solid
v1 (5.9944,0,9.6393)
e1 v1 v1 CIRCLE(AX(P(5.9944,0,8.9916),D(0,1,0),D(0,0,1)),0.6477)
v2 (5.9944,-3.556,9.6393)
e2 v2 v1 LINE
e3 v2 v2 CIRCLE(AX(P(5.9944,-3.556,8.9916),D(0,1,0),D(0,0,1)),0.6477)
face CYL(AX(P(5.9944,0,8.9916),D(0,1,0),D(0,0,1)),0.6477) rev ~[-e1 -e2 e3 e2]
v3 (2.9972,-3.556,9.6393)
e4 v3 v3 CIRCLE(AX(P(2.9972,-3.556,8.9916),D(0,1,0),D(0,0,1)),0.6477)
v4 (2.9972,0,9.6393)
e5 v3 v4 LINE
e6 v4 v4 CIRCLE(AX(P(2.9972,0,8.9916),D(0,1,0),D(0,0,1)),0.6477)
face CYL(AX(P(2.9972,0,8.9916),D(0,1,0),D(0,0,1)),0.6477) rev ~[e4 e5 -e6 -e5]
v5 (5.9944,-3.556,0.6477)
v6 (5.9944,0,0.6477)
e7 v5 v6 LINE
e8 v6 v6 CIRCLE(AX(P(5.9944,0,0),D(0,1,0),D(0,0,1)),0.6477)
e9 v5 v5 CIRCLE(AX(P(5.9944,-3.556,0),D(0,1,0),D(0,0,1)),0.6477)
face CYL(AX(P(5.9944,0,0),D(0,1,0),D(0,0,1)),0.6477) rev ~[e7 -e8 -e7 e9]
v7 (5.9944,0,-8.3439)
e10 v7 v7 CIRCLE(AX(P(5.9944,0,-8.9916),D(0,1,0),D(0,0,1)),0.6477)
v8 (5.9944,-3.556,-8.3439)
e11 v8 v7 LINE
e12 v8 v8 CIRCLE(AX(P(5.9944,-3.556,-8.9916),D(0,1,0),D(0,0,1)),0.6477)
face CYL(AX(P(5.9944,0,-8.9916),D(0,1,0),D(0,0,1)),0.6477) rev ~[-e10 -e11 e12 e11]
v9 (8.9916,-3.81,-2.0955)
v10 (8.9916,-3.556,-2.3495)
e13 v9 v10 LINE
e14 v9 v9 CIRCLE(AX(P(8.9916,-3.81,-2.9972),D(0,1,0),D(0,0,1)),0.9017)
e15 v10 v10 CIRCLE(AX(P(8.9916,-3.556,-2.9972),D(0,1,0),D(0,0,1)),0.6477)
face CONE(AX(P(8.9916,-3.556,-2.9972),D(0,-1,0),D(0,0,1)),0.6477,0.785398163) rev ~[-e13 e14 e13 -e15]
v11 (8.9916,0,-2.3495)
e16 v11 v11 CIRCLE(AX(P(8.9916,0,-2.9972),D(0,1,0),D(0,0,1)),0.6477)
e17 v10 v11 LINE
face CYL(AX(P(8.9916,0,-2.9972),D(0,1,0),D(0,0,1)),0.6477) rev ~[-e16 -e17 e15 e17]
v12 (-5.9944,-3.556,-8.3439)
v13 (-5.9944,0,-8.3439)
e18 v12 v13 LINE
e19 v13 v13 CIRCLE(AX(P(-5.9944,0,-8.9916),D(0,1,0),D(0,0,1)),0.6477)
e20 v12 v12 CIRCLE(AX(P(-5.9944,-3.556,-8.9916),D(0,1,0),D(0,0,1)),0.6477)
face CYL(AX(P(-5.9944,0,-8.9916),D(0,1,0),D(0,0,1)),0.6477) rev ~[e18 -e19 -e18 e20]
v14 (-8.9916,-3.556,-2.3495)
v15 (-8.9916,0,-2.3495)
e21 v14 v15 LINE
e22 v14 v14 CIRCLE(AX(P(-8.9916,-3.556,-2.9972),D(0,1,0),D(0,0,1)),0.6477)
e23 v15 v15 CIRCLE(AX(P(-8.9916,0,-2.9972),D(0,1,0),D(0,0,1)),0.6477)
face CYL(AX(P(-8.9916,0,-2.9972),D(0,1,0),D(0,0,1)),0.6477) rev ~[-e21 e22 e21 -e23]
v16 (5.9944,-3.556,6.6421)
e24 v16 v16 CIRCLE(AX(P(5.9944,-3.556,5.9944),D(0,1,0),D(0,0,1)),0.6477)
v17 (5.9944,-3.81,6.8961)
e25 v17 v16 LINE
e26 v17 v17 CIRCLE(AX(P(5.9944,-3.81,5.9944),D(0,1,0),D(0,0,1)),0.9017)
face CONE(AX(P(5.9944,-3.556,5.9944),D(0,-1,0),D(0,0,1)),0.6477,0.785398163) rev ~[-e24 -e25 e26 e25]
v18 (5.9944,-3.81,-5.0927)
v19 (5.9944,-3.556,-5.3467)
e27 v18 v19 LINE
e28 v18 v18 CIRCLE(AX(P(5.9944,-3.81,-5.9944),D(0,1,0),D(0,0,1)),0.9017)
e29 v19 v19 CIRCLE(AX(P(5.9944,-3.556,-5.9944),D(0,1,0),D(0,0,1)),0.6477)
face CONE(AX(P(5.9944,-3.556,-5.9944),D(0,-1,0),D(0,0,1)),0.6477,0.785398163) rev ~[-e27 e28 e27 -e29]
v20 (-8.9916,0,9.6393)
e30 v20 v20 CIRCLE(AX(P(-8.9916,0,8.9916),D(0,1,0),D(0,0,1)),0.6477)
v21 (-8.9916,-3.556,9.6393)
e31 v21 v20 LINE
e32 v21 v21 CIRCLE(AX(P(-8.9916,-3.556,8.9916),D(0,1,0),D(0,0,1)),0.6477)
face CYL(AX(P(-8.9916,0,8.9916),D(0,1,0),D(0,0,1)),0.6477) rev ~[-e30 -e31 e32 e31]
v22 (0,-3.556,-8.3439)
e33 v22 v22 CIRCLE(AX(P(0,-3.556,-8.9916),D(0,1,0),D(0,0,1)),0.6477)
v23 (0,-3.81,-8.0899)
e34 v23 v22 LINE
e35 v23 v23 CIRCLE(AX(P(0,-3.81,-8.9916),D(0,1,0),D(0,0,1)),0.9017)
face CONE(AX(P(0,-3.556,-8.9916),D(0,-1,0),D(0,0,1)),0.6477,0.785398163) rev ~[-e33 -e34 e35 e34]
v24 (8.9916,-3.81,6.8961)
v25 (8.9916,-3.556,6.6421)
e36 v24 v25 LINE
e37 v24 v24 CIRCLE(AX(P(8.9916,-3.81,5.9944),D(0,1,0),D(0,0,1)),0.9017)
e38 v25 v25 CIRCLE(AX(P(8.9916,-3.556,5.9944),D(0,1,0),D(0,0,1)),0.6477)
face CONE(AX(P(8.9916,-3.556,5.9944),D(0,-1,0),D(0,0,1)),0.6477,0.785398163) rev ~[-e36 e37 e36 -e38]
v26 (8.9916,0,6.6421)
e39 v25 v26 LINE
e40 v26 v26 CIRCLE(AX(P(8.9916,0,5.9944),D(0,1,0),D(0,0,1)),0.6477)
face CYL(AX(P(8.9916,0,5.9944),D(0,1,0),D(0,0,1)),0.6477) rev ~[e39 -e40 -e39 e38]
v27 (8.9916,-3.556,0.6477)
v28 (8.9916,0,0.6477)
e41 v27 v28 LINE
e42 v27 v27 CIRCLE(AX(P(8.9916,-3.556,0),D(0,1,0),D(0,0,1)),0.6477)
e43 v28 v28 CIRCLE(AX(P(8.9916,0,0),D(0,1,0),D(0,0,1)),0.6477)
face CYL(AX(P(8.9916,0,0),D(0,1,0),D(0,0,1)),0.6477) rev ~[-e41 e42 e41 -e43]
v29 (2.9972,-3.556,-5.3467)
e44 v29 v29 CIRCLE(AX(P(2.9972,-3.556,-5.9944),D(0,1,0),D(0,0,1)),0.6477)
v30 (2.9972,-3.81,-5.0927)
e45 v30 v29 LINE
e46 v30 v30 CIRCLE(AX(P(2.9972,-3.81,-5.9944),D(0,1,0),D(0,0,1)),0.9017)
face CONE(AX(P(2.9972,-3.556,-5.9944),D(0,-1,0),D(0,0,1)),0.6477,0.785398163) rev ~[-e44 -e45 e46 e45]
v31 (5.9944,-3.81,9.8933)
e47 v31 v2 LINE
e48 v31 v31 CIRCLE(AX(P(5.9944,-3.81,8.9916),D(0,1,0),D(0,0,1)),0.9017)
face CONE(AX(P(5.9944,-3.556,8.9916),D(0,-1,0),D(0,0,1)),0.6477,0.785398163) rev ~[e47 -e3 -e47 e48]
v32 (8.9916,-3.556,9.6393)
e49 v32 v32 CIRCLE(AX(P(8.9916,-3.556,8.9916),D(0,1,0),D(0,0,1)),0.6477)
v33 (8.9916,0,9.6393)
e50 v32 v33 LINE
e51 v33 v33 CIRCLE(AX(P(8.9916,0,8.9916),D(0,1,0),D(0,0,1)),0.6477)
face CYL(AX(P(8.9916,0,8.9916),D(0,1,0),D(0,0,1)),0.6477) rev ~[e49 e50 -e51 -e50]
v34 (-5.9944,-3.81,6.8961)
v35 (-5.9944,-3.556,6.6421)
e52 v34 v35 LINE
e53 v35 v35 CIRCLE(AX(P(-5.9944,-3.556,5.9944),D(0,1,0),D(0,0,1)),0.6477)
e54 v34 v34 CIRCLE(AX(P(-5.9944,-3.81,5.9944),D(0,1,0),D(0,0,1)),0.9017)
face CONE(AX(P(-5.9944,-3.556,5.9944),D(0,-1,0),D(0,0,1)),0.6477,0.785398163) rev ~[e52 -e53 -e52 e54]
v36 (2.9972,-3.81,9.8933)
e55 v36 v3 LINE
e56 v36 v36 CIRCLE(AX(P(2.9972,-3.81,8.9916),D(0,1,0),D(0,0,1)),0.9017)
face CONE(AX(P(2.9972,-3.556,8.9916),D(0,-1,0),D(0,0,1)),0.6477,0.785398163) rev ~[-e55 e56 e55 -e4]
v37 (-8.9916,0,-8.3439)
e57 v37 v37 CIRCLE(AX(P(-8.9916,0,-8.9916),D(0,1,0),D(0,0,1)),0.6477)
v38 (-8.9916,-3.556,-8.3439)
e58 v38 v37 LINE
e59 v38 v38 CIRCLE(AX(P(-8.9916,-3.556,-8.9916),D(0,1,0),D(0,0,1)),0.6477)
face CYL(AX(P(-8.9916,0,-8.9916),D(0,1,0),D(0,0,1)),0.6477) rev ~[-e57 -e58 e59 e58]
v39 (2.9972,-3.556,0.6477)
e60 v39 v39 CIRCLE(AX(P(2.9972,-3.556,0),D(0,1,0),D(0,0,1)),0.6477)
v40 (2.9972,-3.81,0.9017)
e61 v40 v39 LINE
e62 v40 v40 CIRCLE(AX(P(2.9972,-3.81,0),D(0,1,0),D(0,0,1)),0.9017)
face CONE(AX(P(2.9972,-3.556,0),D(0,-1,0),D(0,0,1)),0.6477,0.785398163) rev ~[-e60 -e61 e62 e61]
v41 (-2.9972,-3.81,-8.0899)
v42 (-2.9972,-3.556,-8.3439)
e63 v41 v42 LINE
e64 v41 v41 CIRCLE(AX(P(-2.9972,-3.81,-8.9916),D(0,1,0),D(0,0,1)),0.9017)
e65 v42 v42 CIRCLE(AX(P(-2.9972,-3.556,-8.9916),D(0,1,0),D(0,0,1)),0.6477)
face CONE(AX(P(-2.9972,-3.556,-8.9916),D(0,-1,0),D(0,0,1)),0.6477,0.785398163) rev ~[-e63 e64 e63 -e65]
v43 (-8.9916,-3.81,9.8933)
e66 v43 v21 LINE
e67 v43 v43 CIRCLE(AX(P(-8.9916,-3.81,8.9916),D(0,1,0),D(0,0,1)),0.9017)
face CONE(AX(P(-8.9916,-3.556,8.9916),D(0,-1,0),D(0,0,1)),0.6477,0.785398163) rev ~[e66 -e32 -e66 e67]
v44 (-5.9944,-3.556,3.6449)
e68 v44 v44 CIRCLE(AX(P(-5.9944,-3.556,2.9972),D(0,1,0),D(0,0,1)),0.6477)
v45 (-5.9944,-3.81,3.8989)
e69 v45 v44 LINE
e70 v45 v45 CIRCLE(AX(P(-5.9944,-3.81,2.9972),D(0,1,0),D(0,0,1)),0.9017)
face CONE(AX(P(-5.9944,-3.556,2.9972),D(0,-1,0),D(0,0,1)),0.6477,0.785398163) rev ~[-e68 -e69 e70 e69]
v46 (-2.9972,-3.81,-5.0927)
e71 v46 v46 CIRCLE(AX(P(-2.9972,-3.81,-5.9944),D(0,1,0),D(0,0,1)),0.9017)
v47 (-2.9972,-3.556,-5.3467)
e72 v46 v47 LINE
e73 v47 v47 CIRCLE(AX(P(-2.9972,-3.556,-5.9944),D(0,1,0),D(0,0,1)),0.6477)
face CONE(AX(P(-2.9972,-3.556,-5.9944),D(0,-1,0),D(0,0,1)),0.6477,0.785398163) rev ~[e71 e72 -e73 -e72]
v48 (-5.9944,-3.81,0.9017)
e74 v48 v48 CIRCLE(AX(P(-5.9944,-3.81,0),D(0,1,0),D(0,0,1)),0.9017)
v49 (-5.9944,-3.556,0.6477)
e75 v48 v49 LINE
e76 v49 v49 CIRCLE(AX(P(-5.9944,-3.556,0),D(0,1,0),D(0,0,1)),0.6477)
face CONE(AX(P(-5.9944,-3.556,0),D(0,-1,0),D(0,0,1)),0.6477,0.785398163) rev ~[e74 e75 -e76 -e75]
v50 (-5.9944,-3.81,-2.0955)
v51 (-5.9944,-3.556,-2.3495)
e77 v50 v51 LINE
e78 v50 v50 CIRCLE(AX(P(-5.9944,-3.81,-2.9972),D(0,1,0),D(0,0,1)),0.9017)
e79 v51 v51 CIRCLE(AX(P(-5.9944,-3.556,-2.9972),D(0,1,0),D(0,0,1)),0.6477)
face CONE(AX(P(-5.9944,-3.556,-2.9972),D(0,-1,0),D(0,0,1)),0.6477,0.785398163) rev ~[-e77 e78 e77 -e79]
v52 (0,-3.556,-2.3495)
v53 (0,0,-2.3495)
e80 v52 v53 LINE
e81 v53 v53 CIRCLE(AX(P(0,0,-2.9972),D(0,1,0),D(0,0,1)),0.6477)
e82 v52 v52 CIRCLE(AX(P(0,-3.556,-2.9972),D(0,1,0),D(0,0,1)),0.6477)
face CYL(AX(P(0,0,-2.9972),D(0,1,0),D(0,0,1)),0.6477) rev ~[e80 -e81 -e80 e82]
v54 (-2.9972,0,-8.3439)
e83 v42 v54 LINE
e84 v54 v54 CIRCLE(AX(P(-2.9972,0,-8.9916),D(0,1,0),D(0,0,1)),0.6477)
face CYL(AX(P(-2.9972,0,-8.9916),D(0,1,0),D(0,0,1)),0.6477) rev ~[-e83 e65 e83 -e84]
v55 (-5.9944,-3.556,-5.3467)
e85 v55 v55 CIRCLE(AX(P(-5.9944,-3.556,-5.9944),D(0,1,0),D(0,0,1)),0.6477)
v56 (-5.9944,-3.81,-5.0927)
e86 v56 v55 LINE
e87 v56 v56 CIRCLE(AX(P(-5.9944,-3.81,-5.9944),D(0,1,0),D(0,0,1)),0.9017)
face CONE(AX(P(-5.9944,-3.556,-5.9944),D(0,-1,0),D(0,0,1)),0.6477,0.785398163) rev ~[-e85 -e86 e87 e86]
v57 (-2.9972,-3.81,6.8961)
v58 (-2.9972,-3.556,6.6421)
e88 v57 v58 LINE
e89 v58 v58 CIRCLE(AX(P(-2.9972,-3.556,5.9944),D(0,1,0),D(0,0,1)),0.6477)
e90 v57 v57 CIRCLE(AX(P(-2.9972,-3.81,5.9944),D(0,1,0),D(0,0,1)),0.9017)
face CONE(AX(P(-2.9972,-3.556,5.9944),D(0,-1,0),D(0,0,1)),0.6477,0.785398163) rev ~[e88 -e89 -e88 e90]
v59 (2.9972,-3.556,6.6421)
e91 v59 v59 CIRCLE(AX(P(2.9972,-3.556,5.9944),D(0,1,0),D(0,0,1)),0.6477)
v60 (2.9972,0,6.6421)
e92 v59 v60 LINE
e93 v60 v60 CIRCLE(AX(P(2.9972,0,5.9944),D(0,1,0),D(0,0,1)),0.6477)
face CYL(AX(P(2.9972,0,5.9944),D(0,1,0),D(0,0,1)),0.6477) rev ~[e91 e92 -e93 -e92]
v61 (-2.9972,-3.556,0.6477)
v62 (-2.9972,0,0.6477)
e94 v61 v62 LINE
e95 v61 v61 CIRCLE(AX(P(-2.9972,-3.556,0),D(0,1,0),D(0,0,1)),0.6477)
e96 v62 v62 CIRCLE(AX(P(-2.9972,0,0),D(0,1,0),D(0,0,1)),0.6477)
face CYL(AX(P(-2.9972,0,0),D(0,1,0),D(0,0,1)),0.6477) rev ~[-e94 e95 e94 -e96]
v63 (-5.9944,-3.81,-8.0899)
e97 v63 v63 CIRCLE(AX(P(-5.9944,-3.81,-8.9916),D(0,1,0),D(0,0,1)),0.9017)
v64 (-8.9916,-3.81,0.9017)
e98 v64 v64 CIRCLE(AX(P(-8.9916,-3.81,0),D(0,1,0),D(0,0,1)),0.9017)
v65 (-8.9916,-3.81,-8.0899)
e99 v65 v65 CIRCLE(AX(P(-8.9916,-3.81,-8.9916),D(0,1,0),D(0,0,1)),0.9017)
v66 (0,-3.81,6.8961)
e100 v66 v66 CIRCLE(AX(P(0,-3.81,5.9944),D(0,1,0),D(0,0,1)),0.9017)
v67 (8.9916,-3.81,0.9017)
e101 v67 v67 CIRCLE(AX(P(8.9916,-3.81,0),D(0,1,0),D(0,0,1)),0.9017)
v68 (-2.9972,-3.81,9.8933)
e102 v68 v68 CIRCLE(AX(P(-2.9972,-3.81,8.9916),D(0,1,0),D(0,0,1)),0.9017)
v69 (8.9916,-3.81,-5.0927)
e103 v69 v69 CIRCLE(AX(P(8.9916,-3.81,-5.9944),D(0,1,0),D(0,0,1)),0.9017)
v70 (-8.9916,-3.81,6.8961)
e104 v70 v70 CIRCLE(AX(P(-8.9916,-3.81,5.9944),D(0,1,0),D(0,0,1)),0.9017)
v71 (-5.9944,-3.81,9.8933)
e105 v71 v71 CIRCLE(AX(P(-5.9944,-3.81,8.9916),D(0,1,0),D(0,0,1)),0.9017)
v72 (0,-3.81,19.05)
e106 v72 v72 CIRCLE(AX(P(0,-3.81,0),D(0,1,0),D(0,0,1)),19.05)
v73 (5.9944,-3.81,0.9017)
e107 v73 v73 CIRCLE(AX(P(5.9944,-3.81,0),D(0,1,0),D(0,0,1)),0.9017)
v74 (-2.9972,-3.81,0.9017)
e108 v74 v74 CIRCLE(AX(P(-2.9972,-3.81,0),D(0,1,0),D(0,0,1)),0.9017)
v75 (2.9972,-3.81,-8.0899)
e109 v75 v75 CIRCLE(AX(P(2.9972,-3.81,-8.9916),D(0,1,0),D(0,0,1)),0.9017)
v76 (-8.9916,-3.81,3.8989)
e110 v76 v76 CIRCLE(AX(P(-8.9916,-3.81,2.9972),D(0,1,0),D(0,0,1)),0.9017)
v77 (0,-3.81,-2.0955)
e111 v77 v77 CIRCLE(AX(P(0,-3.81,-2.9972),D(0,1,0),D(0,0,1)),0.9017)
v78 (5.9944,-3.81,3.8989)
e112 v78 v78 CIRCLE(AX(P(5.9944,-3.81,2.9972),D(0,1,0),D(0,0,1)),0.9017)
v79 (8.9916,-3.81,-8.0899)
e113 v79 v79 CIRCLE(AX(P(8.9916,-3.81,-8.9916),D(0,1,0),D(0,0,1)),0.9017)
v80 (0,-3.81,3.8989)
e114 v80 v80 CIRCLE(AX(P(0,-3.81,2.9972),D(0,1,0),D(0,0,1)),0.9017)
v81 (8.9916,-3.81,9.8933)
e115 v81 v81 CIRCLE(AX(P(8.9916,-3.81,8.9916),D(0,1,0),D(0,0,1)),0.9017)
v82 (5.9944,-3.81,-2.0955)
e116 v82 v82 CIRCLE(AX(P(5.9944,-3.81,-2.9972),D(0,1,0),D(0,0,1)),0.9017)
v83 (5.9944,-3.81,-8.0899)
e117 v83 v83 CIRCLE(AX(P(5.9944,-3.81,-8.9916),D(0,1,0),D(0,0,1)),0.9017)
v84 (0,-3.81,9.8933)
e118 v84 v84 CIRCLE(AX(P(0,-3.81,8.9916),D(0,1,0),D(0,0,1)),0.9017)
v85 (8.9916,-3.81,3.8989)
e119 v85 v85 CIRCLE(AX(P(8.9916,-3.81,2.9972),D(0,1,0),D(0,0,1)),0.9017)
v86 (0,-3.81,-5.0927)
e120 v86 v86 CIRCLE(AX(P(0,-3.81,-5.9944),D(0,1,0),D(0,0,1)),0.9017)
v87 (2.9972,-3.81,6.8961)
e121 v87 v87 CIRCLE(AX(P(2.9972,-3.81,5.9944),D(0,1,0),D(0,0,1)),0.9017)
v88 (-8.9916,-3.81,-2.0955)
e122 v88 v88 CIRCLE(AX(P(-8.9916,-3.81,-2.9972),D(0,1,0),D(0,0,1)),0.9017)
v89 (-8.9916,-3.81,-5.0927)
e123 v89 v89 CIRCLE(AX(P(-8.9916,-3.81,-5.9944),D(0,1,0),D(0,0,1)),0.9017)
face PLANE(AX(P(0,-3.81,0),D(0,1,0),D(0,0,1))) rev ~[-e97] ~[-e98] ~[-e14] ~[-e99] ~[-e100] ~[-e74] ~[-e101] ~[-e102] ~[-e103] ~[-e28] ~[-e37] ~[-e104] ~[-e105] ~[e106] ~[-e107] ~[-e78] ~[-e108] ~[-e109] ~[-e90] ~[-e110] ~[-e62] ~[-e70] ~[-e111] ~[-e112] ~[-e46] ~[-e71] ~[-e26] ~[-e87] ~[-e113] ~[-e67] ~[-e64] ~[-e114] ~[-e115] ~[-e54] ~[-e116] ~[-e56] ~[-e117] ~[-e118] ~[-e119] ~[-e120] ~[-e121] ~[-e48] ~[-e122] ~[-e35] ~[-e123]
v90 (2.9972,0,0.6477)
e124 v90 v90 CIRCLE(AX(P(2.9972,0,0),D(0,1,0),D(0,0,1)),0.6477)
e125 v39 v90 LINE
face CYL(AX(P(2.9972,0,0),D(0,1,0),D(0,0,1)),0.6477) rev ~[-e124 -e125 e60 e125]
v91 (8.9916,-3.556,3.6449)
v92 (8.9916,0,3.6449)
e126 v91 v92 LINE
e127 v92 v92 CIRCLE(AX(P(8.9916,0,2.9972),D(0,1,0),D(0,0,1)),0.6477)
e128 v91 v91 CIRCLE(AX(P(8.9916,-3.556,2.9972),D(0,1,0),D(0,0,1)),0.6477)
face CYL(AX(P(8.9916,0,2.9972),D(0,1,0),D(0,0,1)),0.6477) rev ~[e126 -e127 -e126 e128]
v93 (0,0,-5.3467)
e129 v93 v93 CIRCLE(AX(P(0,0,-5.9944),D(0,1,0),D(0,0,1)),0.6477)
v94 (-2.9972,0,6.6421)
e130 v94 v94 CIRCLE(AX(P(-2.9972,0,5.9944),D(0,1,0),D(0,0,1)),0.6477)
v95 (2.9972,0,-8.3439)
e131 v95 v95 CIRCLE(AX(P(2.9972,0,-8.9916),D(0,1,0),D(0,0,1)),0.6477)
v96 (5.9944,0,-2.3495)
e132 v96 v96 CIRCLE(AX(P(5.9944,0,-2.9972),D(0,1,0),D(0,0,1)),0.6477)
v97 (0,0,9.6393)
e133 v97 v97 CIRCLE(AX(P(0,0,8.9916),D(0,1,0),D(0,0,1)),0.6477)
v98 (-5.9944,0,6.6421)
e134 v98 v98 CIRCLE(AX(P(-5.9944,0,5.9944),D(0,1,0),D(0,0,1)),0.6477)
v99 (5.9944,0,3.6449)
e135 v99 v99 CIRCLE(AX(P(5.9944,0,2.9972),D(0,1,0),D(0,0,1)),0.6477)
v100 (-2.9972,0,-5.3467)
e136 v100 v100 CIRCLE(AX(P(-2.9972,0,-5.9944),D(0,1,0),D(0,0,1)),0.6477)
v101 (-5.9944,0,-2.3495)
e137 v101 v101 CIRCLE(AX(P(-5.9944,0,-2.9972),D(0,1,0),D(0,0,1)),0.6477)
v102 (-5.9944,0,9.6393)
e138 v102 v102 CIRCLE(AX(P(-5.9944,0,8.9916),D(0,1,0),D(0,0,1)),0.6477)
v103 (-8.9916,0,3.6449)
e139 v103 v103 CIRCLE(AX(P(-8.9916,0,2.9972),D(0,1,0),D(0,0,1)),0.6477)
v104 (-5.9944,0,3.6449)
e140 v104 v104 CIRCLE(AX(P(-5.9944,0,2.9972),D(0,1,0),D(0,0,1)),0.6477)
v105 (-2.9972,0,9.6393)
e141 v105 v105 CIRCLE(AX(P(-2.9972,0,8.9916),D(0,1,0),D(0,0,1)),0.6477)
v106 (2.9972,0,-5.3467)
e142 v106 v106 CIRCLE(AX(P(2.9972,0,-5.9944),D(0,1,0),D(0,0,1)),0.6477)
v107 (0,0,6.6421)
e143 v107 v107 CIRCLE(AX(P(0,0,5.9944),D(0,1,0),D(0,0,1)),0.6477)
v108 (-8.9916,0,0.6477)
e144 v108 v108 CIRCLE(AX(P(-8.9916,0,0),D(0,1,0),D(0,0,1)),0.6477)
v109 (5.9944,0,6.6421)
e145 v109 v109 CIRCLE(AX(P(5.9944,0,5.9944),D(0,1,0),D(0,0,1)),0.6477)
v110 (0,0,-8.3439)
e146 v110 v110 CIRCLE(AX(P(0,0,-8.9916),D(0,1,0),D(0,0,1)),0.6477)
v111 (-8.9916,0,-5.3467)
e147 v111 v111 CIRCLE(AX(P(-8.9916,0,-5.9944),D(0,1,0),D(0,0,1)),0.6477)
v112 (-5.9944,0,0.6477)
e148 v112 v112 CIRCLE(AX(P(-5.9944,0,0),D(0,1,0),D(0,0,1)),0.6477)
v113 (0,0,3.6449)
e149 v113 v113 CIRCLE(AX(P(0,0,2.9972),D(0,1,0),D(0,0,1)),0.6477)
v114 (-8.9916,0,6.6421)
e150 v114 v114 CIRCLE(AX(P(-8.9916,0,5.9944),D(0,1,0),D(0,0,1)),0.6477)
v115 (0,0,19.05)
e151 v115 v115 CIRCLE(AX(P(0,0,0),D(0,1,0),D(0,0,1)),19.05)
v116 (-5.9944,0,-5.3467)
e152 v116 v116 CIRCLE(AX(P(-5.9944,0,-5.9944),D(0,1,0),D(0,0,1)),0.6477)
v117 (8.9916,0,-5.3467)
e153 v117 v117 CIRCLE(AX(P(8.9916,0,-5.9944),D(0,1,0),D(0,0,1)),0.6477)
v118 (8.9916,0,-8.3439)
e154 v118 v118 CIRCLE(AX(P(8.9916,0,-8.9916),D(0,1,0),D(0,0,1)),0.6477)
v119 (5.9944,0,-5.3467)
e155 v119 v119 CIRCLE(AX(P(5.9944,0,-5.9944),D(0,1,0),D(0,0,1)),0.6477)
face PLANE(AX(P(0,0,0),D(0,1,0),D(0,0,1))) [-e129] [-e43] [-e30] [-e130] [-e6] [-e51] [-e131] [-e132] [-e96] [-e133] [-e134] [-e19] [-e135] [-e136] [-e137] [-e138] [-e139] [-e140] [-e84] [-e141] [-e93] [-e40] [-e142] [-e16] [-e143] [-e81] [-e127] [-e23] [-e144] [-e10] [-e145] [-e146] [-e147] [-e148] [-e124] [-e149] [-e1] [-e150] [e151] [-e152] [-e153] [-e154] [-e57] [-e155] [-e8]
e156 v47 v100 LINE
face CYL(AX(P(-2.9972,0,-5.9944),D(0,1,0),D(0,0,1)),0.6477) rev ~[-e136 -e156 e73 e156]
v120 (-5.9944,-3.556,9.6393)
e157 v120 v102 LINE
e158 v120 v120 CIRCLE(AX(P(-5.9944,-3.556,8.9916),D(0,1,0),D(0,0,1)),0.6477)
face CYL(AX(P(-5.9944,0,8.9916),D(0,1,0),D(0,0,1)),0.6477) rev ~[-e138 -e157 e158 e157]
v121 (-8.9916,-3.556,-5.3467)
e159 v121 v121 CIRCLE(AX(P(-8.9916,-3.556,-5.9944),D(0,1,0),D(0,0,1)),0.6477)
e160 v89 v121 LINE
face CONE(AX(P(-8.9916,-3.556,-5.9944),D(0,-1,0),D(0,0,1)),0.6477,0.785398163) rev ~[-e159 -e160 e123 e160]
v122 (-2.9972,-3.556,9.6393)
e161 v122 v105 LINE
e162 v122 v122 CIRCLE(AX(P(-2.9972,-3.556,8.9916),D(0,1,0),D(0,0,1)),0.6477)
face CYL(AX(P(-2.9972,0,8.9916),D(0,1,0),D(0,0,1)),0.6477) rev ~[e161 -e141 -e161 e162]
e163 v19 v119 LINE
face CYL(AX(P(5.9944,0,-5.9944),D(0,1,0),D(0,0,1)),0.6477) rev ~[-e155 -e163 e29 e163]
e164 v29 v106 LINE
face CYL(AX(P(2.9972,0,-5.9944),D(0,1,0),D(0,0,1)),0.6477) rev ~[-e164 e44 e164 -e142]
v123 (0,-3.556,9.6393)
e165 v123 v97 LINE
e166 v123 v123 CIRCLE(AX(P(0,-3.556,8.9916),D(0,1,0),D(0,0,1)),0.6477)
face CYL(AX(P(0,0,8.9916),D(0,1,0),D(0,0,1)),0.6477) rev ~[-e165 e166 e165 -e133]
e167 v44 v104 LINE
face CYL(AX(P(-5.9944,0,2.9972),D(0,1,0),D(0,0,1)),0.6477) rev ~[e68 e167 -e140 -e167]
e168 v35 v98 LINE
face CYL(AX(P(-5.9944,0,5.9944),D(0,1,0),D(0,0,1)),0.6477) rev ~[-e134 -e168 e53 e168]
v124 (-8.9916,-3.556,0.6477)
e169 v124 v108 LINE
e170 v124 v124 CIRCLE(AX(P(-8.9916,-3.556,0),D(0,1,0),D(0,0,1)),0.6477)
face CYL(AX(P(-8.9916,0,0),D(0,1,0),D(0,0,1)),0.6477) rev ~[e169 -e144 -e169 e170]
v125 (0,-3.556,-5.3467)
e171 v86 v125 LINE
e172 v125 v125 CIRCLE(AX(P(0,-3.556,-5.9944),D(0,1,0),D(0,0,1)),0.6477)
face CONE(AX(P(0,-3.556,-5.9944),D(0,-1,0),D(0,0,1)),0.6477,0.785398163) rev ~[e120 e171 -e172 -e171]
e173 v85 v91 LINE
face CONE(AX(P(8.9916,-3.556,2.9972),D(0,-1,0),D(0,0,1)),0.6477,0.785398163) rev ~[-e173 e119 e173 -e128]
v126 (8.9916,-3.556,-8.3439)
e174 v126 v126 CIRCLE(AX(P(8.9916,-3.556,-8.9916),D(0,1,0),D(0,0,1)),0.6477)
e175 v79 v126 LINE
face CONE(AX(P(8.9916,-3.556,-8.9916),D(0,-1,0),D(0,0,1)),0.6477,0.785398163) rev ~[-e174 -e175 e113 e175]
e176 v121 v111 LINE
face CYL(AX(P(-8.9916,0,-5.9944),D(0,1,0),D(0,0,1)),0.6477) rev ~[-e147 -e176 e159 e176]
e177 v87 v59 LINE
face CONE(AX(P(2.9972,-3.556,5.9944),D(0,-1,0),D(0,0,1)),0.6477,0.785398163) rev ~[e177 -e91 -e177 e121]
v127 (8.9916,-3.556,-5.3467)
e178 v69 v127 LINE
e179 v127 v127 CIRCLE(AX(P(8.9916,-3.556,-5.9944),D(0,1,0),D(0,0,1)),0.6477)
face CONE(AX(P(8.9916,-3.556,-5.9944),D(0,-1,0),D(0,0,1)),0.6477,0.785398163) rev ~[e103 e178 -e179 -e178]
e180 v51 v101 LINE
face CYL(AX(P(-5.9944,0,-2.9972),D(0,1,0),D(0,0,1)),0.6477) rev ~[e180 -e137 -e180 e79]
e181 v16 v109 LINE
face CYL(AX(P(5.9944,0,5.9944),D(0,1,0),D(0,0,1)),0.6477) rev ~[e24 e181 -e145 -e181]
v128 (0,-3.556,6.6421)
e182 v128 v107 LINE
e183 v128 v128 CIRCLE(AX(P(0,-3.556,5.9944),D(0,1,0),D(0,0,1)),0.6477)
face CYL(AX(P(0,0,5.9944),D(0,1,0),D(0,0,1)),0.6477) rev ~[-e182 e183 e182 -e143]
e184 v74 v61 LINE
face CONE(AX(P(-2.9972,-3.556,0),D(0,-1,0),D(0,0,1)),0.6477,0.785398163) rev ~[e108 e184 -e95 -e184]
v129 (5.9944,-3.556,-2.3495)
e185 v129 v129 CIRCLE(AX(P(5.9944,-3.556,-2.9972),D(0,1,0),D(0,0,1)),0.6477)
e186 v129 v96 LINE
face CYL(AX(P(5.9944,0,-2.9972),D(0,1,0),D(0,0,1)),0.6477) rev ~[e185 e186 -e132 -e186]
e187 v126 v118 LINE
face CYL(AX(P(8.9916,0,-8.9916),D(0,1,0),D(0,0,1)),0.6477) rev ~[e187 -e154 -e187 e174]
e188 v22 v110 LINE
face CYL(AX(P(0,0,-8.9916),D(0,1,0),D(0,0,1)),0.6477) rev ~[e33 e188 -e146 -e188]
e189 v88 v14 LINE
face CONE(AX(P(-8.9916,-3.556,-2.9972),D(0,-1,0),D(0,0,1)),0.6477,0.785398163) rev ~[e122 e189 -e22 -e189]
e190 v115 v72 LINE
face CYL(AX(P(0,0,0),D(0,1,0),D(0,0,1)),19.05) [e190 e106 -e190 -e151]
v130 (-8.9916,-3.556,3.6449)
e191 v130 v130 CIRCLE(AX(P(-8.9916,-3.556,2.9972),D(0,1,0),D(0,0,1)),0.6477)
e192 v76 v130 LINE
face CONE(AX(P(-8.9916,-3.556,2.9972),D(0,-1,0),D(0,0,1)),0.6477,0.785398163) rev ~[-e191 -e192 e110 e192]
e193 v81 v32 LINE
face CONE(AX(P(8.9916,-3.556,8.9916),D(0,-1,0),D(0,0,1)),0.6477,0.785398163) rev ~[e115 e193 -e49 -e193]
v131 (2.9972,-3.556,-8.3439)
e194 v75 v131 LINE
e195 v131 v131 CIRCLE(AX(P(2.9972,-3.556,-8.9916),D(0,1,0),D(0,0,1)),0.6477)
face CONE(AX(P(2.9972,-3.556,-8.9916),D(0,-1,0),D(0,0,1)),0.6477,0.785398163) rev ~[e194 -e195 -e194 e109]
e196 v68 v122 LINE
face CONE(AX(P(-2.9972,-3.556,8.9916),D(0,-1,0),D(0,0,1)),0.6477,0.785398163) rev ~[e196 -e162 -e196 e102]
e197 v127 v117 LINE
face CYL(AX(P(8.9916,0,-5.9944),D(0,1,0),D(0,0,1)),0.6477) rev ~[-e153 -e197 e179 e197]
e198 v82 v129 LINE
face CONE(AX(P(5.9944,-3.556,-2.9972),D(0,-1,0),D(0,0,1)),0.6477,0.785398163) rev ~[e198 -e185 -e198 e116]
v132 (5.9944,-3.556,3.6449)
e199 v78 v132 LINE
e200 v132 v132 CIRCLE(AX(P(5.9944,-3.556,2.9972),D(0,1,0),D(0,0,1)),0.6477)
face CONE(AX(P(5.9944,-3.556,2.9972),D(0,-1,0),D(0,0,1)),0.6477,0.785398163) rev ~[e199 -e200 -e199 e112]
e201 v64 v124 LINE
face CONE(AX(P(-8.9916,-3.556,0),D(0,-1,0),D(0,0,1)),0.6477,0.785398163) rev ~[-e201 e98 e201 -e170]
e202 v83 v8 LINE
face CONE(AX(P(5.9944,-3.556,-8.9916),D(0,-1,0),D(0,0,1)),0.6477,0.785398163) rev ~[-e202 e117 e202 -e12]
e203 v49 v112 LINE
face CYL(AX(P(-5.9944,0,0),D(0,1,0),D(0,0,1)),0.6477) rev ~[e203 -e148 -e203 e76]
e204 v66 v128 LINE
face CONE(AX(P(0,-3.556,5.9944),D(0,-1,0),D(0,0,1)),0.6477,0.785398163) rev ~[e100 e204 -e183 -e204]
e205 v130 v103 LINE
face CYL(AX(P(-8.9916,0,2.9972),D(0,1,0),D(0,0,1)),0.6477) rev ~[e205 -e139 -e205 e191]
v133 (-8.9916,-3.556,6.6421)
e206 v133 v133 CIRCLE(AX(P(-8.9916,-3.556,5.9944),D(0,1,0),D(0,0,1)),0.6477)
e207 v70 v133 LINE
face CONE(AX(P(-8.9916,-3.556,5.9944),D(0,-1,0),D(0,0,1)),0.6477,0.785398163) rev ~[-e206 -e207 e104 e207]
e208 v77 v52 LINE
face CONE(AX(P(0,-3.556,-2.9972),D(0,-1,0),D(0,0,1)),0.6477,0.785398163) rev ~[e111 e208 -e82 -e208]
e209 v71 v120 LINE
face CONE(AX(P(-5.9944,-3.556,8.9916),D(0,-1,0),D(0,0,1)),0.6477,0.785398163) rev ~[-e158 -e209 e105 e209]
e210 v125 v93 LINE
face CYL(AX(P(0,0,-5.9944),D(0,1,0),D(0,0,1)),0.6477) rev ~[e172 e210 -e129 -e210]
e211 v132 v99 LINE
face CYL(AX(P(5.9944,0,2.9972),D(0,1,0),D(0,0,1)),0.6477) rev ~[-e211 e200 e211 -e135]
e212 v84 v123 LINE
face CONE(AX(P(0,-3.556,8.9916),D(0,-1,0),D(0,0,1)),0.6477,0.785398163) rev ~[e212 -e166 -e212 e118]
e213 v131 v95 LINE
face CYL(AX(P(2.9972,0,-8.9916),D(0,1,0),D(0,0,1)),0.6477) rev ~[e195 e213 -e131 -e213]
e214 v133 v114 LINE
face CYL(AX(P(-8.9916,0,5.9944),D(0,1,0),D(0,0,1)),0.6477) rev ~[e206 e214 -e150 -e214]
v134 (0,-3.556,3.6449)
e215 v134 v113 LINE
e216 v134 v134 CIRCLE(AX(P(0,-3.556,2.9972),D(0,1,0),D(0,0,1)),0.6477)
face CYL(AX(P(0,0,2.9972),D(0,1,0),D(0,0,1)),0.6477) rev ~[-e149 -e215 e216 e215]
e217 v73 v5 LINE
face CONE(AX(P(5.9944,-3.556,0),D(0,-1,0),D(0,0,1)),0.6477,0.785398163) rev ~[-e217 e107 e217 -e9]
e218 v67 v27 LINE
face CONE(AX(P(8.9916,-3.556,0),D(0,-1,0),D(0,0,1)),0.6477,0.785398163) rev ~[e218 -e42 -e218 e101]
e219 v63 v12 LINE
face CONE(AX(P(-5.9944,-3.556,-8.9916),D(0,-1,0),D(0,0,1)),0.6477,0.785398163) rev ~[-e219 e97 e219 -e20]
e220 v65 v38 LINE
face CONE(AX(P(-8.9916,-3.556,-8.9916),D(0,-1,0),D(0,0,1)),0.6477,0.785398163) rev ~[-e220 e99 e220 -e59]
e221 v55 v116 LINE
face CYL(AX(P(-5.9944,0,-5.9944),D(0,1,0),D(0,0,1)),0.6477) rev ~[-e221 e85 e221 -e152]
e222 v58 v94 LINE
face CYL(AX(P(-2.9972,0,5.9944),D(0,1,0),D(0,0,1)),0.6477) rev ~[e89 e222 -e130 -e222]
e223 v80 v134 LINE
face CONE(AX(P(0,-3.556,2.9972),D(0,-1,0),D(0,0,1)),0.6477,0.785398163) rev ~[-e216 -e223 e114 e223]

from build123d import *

# Parameters (mm, degrees)
SKETCH1_R                                 = 19.05
BILLET_DEPTH                              = 3.81
SKETCH2_R                                 = 0.6477
FIRST_LOX_HOLE_DEPTH                      = 28.208842313
BRAISING_CHAMFER_SIZE                     = 0.254
LOX_HOLE_PATTERN_COUNT                    = 7
LOX_HOLE_PATTERN_PITCH                    = 2.9972
LOX_HOLE_PATTERN_COUNT_DIR2               = 7
LOX_HOLE_PATTERN_PITCH_DIR2               = 2.9972
BRAISING_CHAMFER_OF_LOX_HOLE_PATTERN_SIZE = 0.254


with BuildPart() as part:
    # Sketch1 → Billet (new body)
    with BuildSketch(Plane(origin=(0, 0, 0), x_dir=(1, 0, 0), z_dir=(0, 1, 0))):
        Circle(SKETCH1_R)
    extrude(amount=-BILLET_DEPTH)

    # Sketch2 → First Lox Hole (cut, symmetric)
    with BuildSketch(Plane(origin=(0, 0, 0), x_dir=(1, 0, 0), z_dir=(0, 1, 0))):
        with Locations((8.9916, 8.9916)):
            Circle(SKETCH2_R)
    first_lox_hole = extrude(amount=FIRST_LOX_HOLE_DEPTH, both=True, mode=Mode.SUBTRACT)

    # Braising Chamfer
    braising_chamfer_edges = [part.edges().sort_by_distance(p)[0] for p in [
        (8.3439, -3.81, -8.9916),
    ]]
    chamfer(braising_chamfer_edges, length=BRAISING_CHAMFER_SIZE)

    # Lox Hole Pattern: First Lox Hole 7 × 7, 5 skipped
    with Locations(*[(-i * LOX_HOLE_PATTERN_PITCH, 0, j * LOX_HOLE_PATTERN_PITCH_DIR2) for i in range(LOX_HOLE_PATTERN_COUNT) for j in range(LOX_HOLE_PATTERN_COUNT_DIR2) if (i, j) not in ((0, 0), (2, 2), (2, 4), (3, 3), (4, 2), (4, 4))]):
        add(first_lox_hole, mode=Mode.SUBTRACT)

    # Braising Chamfer of Lox Hole Pattern
    braising_chamfer_of_lox_hole_pattern_edges = [part.edges().sort_by_distance(p)[0] for p in [
        (8.3439, -3.81, -5.9944),
        (8.3439, -3.81, -2.9972),
        (8.3439, -3.81, 0),
        (8.3439, -3.81, 2.9972),
        (8.3439, -3.81, 5.9944),
        (8.3439, -3.81, 8.9916),
        (5.3467, -3.81, -8.9916),
        (5.3467, -3.81, -5.9944),
        (5.3467, -3.81, -2.9972),
        (5.3467, -3.81, 0),
        (5.3467, -3.81, 2.9972),
        (5.3467, -3.81, 5.9944),
        (5.3467, -3.81, 8.9916),
        (2.3495, -3.81, -8.9916),
        (2.3495, -3.81, -5.9944),
        (2.3495, -3.81, 0),
        (2.3495, -3.81, 5.9944),
        (2.3495, -3.81, 8.9916),
        (-0.6477, -3.81, -8.9916),
        (-0.6477, -3.81, -5.9944),
        (-0.6477, -3.81, -2.9972),
        (-0.6477, -3.81, 2.9972),
        (-0.6477, -3.81, 5.9944),
        (-0.6477, -3.81, 8.9916),
        (-3.6449, -3.81, -8.9916),
        (-3.6449, -3.81, -5.9944),
        (-3.6449, -3.81, 0),
        (-3.6449, -3.81, 5.9944),
        (-3.6449, -3.81, 8.9916),
        (-6.6421, -3.81, -8.9916),
        (-6.6421, -3.81, -5.9944),
        (-6.6421, -3.81, -2.9972),
        (-6.6421, -3.81, 0),
        (-6.6421, -3.81, 2.9972),
        (-6.6421, -3.81, 5.9944),
        (-6.6421, -3.81, 8.9916),
        (-9.6393, -3.81, -8.9916),
        (-9.6393, -3.81, -5.9944),
        (-9.6393, -3.81, -2.9972),
        (-9.6393, -3.81, 0),
        (-9.6393, -3.81, 2.9972),
        (-9.6393, -3.81, 5.9944),
        (-9.6393, -3.81, 8.9916),
    ]]
    chamfer(braising_chamfer_of_lox_hole_pattern_edges, length=BRAISING_CHAMFER_OF_LOX_HOLE_PATTERN_SIZE)


solid = part.part
